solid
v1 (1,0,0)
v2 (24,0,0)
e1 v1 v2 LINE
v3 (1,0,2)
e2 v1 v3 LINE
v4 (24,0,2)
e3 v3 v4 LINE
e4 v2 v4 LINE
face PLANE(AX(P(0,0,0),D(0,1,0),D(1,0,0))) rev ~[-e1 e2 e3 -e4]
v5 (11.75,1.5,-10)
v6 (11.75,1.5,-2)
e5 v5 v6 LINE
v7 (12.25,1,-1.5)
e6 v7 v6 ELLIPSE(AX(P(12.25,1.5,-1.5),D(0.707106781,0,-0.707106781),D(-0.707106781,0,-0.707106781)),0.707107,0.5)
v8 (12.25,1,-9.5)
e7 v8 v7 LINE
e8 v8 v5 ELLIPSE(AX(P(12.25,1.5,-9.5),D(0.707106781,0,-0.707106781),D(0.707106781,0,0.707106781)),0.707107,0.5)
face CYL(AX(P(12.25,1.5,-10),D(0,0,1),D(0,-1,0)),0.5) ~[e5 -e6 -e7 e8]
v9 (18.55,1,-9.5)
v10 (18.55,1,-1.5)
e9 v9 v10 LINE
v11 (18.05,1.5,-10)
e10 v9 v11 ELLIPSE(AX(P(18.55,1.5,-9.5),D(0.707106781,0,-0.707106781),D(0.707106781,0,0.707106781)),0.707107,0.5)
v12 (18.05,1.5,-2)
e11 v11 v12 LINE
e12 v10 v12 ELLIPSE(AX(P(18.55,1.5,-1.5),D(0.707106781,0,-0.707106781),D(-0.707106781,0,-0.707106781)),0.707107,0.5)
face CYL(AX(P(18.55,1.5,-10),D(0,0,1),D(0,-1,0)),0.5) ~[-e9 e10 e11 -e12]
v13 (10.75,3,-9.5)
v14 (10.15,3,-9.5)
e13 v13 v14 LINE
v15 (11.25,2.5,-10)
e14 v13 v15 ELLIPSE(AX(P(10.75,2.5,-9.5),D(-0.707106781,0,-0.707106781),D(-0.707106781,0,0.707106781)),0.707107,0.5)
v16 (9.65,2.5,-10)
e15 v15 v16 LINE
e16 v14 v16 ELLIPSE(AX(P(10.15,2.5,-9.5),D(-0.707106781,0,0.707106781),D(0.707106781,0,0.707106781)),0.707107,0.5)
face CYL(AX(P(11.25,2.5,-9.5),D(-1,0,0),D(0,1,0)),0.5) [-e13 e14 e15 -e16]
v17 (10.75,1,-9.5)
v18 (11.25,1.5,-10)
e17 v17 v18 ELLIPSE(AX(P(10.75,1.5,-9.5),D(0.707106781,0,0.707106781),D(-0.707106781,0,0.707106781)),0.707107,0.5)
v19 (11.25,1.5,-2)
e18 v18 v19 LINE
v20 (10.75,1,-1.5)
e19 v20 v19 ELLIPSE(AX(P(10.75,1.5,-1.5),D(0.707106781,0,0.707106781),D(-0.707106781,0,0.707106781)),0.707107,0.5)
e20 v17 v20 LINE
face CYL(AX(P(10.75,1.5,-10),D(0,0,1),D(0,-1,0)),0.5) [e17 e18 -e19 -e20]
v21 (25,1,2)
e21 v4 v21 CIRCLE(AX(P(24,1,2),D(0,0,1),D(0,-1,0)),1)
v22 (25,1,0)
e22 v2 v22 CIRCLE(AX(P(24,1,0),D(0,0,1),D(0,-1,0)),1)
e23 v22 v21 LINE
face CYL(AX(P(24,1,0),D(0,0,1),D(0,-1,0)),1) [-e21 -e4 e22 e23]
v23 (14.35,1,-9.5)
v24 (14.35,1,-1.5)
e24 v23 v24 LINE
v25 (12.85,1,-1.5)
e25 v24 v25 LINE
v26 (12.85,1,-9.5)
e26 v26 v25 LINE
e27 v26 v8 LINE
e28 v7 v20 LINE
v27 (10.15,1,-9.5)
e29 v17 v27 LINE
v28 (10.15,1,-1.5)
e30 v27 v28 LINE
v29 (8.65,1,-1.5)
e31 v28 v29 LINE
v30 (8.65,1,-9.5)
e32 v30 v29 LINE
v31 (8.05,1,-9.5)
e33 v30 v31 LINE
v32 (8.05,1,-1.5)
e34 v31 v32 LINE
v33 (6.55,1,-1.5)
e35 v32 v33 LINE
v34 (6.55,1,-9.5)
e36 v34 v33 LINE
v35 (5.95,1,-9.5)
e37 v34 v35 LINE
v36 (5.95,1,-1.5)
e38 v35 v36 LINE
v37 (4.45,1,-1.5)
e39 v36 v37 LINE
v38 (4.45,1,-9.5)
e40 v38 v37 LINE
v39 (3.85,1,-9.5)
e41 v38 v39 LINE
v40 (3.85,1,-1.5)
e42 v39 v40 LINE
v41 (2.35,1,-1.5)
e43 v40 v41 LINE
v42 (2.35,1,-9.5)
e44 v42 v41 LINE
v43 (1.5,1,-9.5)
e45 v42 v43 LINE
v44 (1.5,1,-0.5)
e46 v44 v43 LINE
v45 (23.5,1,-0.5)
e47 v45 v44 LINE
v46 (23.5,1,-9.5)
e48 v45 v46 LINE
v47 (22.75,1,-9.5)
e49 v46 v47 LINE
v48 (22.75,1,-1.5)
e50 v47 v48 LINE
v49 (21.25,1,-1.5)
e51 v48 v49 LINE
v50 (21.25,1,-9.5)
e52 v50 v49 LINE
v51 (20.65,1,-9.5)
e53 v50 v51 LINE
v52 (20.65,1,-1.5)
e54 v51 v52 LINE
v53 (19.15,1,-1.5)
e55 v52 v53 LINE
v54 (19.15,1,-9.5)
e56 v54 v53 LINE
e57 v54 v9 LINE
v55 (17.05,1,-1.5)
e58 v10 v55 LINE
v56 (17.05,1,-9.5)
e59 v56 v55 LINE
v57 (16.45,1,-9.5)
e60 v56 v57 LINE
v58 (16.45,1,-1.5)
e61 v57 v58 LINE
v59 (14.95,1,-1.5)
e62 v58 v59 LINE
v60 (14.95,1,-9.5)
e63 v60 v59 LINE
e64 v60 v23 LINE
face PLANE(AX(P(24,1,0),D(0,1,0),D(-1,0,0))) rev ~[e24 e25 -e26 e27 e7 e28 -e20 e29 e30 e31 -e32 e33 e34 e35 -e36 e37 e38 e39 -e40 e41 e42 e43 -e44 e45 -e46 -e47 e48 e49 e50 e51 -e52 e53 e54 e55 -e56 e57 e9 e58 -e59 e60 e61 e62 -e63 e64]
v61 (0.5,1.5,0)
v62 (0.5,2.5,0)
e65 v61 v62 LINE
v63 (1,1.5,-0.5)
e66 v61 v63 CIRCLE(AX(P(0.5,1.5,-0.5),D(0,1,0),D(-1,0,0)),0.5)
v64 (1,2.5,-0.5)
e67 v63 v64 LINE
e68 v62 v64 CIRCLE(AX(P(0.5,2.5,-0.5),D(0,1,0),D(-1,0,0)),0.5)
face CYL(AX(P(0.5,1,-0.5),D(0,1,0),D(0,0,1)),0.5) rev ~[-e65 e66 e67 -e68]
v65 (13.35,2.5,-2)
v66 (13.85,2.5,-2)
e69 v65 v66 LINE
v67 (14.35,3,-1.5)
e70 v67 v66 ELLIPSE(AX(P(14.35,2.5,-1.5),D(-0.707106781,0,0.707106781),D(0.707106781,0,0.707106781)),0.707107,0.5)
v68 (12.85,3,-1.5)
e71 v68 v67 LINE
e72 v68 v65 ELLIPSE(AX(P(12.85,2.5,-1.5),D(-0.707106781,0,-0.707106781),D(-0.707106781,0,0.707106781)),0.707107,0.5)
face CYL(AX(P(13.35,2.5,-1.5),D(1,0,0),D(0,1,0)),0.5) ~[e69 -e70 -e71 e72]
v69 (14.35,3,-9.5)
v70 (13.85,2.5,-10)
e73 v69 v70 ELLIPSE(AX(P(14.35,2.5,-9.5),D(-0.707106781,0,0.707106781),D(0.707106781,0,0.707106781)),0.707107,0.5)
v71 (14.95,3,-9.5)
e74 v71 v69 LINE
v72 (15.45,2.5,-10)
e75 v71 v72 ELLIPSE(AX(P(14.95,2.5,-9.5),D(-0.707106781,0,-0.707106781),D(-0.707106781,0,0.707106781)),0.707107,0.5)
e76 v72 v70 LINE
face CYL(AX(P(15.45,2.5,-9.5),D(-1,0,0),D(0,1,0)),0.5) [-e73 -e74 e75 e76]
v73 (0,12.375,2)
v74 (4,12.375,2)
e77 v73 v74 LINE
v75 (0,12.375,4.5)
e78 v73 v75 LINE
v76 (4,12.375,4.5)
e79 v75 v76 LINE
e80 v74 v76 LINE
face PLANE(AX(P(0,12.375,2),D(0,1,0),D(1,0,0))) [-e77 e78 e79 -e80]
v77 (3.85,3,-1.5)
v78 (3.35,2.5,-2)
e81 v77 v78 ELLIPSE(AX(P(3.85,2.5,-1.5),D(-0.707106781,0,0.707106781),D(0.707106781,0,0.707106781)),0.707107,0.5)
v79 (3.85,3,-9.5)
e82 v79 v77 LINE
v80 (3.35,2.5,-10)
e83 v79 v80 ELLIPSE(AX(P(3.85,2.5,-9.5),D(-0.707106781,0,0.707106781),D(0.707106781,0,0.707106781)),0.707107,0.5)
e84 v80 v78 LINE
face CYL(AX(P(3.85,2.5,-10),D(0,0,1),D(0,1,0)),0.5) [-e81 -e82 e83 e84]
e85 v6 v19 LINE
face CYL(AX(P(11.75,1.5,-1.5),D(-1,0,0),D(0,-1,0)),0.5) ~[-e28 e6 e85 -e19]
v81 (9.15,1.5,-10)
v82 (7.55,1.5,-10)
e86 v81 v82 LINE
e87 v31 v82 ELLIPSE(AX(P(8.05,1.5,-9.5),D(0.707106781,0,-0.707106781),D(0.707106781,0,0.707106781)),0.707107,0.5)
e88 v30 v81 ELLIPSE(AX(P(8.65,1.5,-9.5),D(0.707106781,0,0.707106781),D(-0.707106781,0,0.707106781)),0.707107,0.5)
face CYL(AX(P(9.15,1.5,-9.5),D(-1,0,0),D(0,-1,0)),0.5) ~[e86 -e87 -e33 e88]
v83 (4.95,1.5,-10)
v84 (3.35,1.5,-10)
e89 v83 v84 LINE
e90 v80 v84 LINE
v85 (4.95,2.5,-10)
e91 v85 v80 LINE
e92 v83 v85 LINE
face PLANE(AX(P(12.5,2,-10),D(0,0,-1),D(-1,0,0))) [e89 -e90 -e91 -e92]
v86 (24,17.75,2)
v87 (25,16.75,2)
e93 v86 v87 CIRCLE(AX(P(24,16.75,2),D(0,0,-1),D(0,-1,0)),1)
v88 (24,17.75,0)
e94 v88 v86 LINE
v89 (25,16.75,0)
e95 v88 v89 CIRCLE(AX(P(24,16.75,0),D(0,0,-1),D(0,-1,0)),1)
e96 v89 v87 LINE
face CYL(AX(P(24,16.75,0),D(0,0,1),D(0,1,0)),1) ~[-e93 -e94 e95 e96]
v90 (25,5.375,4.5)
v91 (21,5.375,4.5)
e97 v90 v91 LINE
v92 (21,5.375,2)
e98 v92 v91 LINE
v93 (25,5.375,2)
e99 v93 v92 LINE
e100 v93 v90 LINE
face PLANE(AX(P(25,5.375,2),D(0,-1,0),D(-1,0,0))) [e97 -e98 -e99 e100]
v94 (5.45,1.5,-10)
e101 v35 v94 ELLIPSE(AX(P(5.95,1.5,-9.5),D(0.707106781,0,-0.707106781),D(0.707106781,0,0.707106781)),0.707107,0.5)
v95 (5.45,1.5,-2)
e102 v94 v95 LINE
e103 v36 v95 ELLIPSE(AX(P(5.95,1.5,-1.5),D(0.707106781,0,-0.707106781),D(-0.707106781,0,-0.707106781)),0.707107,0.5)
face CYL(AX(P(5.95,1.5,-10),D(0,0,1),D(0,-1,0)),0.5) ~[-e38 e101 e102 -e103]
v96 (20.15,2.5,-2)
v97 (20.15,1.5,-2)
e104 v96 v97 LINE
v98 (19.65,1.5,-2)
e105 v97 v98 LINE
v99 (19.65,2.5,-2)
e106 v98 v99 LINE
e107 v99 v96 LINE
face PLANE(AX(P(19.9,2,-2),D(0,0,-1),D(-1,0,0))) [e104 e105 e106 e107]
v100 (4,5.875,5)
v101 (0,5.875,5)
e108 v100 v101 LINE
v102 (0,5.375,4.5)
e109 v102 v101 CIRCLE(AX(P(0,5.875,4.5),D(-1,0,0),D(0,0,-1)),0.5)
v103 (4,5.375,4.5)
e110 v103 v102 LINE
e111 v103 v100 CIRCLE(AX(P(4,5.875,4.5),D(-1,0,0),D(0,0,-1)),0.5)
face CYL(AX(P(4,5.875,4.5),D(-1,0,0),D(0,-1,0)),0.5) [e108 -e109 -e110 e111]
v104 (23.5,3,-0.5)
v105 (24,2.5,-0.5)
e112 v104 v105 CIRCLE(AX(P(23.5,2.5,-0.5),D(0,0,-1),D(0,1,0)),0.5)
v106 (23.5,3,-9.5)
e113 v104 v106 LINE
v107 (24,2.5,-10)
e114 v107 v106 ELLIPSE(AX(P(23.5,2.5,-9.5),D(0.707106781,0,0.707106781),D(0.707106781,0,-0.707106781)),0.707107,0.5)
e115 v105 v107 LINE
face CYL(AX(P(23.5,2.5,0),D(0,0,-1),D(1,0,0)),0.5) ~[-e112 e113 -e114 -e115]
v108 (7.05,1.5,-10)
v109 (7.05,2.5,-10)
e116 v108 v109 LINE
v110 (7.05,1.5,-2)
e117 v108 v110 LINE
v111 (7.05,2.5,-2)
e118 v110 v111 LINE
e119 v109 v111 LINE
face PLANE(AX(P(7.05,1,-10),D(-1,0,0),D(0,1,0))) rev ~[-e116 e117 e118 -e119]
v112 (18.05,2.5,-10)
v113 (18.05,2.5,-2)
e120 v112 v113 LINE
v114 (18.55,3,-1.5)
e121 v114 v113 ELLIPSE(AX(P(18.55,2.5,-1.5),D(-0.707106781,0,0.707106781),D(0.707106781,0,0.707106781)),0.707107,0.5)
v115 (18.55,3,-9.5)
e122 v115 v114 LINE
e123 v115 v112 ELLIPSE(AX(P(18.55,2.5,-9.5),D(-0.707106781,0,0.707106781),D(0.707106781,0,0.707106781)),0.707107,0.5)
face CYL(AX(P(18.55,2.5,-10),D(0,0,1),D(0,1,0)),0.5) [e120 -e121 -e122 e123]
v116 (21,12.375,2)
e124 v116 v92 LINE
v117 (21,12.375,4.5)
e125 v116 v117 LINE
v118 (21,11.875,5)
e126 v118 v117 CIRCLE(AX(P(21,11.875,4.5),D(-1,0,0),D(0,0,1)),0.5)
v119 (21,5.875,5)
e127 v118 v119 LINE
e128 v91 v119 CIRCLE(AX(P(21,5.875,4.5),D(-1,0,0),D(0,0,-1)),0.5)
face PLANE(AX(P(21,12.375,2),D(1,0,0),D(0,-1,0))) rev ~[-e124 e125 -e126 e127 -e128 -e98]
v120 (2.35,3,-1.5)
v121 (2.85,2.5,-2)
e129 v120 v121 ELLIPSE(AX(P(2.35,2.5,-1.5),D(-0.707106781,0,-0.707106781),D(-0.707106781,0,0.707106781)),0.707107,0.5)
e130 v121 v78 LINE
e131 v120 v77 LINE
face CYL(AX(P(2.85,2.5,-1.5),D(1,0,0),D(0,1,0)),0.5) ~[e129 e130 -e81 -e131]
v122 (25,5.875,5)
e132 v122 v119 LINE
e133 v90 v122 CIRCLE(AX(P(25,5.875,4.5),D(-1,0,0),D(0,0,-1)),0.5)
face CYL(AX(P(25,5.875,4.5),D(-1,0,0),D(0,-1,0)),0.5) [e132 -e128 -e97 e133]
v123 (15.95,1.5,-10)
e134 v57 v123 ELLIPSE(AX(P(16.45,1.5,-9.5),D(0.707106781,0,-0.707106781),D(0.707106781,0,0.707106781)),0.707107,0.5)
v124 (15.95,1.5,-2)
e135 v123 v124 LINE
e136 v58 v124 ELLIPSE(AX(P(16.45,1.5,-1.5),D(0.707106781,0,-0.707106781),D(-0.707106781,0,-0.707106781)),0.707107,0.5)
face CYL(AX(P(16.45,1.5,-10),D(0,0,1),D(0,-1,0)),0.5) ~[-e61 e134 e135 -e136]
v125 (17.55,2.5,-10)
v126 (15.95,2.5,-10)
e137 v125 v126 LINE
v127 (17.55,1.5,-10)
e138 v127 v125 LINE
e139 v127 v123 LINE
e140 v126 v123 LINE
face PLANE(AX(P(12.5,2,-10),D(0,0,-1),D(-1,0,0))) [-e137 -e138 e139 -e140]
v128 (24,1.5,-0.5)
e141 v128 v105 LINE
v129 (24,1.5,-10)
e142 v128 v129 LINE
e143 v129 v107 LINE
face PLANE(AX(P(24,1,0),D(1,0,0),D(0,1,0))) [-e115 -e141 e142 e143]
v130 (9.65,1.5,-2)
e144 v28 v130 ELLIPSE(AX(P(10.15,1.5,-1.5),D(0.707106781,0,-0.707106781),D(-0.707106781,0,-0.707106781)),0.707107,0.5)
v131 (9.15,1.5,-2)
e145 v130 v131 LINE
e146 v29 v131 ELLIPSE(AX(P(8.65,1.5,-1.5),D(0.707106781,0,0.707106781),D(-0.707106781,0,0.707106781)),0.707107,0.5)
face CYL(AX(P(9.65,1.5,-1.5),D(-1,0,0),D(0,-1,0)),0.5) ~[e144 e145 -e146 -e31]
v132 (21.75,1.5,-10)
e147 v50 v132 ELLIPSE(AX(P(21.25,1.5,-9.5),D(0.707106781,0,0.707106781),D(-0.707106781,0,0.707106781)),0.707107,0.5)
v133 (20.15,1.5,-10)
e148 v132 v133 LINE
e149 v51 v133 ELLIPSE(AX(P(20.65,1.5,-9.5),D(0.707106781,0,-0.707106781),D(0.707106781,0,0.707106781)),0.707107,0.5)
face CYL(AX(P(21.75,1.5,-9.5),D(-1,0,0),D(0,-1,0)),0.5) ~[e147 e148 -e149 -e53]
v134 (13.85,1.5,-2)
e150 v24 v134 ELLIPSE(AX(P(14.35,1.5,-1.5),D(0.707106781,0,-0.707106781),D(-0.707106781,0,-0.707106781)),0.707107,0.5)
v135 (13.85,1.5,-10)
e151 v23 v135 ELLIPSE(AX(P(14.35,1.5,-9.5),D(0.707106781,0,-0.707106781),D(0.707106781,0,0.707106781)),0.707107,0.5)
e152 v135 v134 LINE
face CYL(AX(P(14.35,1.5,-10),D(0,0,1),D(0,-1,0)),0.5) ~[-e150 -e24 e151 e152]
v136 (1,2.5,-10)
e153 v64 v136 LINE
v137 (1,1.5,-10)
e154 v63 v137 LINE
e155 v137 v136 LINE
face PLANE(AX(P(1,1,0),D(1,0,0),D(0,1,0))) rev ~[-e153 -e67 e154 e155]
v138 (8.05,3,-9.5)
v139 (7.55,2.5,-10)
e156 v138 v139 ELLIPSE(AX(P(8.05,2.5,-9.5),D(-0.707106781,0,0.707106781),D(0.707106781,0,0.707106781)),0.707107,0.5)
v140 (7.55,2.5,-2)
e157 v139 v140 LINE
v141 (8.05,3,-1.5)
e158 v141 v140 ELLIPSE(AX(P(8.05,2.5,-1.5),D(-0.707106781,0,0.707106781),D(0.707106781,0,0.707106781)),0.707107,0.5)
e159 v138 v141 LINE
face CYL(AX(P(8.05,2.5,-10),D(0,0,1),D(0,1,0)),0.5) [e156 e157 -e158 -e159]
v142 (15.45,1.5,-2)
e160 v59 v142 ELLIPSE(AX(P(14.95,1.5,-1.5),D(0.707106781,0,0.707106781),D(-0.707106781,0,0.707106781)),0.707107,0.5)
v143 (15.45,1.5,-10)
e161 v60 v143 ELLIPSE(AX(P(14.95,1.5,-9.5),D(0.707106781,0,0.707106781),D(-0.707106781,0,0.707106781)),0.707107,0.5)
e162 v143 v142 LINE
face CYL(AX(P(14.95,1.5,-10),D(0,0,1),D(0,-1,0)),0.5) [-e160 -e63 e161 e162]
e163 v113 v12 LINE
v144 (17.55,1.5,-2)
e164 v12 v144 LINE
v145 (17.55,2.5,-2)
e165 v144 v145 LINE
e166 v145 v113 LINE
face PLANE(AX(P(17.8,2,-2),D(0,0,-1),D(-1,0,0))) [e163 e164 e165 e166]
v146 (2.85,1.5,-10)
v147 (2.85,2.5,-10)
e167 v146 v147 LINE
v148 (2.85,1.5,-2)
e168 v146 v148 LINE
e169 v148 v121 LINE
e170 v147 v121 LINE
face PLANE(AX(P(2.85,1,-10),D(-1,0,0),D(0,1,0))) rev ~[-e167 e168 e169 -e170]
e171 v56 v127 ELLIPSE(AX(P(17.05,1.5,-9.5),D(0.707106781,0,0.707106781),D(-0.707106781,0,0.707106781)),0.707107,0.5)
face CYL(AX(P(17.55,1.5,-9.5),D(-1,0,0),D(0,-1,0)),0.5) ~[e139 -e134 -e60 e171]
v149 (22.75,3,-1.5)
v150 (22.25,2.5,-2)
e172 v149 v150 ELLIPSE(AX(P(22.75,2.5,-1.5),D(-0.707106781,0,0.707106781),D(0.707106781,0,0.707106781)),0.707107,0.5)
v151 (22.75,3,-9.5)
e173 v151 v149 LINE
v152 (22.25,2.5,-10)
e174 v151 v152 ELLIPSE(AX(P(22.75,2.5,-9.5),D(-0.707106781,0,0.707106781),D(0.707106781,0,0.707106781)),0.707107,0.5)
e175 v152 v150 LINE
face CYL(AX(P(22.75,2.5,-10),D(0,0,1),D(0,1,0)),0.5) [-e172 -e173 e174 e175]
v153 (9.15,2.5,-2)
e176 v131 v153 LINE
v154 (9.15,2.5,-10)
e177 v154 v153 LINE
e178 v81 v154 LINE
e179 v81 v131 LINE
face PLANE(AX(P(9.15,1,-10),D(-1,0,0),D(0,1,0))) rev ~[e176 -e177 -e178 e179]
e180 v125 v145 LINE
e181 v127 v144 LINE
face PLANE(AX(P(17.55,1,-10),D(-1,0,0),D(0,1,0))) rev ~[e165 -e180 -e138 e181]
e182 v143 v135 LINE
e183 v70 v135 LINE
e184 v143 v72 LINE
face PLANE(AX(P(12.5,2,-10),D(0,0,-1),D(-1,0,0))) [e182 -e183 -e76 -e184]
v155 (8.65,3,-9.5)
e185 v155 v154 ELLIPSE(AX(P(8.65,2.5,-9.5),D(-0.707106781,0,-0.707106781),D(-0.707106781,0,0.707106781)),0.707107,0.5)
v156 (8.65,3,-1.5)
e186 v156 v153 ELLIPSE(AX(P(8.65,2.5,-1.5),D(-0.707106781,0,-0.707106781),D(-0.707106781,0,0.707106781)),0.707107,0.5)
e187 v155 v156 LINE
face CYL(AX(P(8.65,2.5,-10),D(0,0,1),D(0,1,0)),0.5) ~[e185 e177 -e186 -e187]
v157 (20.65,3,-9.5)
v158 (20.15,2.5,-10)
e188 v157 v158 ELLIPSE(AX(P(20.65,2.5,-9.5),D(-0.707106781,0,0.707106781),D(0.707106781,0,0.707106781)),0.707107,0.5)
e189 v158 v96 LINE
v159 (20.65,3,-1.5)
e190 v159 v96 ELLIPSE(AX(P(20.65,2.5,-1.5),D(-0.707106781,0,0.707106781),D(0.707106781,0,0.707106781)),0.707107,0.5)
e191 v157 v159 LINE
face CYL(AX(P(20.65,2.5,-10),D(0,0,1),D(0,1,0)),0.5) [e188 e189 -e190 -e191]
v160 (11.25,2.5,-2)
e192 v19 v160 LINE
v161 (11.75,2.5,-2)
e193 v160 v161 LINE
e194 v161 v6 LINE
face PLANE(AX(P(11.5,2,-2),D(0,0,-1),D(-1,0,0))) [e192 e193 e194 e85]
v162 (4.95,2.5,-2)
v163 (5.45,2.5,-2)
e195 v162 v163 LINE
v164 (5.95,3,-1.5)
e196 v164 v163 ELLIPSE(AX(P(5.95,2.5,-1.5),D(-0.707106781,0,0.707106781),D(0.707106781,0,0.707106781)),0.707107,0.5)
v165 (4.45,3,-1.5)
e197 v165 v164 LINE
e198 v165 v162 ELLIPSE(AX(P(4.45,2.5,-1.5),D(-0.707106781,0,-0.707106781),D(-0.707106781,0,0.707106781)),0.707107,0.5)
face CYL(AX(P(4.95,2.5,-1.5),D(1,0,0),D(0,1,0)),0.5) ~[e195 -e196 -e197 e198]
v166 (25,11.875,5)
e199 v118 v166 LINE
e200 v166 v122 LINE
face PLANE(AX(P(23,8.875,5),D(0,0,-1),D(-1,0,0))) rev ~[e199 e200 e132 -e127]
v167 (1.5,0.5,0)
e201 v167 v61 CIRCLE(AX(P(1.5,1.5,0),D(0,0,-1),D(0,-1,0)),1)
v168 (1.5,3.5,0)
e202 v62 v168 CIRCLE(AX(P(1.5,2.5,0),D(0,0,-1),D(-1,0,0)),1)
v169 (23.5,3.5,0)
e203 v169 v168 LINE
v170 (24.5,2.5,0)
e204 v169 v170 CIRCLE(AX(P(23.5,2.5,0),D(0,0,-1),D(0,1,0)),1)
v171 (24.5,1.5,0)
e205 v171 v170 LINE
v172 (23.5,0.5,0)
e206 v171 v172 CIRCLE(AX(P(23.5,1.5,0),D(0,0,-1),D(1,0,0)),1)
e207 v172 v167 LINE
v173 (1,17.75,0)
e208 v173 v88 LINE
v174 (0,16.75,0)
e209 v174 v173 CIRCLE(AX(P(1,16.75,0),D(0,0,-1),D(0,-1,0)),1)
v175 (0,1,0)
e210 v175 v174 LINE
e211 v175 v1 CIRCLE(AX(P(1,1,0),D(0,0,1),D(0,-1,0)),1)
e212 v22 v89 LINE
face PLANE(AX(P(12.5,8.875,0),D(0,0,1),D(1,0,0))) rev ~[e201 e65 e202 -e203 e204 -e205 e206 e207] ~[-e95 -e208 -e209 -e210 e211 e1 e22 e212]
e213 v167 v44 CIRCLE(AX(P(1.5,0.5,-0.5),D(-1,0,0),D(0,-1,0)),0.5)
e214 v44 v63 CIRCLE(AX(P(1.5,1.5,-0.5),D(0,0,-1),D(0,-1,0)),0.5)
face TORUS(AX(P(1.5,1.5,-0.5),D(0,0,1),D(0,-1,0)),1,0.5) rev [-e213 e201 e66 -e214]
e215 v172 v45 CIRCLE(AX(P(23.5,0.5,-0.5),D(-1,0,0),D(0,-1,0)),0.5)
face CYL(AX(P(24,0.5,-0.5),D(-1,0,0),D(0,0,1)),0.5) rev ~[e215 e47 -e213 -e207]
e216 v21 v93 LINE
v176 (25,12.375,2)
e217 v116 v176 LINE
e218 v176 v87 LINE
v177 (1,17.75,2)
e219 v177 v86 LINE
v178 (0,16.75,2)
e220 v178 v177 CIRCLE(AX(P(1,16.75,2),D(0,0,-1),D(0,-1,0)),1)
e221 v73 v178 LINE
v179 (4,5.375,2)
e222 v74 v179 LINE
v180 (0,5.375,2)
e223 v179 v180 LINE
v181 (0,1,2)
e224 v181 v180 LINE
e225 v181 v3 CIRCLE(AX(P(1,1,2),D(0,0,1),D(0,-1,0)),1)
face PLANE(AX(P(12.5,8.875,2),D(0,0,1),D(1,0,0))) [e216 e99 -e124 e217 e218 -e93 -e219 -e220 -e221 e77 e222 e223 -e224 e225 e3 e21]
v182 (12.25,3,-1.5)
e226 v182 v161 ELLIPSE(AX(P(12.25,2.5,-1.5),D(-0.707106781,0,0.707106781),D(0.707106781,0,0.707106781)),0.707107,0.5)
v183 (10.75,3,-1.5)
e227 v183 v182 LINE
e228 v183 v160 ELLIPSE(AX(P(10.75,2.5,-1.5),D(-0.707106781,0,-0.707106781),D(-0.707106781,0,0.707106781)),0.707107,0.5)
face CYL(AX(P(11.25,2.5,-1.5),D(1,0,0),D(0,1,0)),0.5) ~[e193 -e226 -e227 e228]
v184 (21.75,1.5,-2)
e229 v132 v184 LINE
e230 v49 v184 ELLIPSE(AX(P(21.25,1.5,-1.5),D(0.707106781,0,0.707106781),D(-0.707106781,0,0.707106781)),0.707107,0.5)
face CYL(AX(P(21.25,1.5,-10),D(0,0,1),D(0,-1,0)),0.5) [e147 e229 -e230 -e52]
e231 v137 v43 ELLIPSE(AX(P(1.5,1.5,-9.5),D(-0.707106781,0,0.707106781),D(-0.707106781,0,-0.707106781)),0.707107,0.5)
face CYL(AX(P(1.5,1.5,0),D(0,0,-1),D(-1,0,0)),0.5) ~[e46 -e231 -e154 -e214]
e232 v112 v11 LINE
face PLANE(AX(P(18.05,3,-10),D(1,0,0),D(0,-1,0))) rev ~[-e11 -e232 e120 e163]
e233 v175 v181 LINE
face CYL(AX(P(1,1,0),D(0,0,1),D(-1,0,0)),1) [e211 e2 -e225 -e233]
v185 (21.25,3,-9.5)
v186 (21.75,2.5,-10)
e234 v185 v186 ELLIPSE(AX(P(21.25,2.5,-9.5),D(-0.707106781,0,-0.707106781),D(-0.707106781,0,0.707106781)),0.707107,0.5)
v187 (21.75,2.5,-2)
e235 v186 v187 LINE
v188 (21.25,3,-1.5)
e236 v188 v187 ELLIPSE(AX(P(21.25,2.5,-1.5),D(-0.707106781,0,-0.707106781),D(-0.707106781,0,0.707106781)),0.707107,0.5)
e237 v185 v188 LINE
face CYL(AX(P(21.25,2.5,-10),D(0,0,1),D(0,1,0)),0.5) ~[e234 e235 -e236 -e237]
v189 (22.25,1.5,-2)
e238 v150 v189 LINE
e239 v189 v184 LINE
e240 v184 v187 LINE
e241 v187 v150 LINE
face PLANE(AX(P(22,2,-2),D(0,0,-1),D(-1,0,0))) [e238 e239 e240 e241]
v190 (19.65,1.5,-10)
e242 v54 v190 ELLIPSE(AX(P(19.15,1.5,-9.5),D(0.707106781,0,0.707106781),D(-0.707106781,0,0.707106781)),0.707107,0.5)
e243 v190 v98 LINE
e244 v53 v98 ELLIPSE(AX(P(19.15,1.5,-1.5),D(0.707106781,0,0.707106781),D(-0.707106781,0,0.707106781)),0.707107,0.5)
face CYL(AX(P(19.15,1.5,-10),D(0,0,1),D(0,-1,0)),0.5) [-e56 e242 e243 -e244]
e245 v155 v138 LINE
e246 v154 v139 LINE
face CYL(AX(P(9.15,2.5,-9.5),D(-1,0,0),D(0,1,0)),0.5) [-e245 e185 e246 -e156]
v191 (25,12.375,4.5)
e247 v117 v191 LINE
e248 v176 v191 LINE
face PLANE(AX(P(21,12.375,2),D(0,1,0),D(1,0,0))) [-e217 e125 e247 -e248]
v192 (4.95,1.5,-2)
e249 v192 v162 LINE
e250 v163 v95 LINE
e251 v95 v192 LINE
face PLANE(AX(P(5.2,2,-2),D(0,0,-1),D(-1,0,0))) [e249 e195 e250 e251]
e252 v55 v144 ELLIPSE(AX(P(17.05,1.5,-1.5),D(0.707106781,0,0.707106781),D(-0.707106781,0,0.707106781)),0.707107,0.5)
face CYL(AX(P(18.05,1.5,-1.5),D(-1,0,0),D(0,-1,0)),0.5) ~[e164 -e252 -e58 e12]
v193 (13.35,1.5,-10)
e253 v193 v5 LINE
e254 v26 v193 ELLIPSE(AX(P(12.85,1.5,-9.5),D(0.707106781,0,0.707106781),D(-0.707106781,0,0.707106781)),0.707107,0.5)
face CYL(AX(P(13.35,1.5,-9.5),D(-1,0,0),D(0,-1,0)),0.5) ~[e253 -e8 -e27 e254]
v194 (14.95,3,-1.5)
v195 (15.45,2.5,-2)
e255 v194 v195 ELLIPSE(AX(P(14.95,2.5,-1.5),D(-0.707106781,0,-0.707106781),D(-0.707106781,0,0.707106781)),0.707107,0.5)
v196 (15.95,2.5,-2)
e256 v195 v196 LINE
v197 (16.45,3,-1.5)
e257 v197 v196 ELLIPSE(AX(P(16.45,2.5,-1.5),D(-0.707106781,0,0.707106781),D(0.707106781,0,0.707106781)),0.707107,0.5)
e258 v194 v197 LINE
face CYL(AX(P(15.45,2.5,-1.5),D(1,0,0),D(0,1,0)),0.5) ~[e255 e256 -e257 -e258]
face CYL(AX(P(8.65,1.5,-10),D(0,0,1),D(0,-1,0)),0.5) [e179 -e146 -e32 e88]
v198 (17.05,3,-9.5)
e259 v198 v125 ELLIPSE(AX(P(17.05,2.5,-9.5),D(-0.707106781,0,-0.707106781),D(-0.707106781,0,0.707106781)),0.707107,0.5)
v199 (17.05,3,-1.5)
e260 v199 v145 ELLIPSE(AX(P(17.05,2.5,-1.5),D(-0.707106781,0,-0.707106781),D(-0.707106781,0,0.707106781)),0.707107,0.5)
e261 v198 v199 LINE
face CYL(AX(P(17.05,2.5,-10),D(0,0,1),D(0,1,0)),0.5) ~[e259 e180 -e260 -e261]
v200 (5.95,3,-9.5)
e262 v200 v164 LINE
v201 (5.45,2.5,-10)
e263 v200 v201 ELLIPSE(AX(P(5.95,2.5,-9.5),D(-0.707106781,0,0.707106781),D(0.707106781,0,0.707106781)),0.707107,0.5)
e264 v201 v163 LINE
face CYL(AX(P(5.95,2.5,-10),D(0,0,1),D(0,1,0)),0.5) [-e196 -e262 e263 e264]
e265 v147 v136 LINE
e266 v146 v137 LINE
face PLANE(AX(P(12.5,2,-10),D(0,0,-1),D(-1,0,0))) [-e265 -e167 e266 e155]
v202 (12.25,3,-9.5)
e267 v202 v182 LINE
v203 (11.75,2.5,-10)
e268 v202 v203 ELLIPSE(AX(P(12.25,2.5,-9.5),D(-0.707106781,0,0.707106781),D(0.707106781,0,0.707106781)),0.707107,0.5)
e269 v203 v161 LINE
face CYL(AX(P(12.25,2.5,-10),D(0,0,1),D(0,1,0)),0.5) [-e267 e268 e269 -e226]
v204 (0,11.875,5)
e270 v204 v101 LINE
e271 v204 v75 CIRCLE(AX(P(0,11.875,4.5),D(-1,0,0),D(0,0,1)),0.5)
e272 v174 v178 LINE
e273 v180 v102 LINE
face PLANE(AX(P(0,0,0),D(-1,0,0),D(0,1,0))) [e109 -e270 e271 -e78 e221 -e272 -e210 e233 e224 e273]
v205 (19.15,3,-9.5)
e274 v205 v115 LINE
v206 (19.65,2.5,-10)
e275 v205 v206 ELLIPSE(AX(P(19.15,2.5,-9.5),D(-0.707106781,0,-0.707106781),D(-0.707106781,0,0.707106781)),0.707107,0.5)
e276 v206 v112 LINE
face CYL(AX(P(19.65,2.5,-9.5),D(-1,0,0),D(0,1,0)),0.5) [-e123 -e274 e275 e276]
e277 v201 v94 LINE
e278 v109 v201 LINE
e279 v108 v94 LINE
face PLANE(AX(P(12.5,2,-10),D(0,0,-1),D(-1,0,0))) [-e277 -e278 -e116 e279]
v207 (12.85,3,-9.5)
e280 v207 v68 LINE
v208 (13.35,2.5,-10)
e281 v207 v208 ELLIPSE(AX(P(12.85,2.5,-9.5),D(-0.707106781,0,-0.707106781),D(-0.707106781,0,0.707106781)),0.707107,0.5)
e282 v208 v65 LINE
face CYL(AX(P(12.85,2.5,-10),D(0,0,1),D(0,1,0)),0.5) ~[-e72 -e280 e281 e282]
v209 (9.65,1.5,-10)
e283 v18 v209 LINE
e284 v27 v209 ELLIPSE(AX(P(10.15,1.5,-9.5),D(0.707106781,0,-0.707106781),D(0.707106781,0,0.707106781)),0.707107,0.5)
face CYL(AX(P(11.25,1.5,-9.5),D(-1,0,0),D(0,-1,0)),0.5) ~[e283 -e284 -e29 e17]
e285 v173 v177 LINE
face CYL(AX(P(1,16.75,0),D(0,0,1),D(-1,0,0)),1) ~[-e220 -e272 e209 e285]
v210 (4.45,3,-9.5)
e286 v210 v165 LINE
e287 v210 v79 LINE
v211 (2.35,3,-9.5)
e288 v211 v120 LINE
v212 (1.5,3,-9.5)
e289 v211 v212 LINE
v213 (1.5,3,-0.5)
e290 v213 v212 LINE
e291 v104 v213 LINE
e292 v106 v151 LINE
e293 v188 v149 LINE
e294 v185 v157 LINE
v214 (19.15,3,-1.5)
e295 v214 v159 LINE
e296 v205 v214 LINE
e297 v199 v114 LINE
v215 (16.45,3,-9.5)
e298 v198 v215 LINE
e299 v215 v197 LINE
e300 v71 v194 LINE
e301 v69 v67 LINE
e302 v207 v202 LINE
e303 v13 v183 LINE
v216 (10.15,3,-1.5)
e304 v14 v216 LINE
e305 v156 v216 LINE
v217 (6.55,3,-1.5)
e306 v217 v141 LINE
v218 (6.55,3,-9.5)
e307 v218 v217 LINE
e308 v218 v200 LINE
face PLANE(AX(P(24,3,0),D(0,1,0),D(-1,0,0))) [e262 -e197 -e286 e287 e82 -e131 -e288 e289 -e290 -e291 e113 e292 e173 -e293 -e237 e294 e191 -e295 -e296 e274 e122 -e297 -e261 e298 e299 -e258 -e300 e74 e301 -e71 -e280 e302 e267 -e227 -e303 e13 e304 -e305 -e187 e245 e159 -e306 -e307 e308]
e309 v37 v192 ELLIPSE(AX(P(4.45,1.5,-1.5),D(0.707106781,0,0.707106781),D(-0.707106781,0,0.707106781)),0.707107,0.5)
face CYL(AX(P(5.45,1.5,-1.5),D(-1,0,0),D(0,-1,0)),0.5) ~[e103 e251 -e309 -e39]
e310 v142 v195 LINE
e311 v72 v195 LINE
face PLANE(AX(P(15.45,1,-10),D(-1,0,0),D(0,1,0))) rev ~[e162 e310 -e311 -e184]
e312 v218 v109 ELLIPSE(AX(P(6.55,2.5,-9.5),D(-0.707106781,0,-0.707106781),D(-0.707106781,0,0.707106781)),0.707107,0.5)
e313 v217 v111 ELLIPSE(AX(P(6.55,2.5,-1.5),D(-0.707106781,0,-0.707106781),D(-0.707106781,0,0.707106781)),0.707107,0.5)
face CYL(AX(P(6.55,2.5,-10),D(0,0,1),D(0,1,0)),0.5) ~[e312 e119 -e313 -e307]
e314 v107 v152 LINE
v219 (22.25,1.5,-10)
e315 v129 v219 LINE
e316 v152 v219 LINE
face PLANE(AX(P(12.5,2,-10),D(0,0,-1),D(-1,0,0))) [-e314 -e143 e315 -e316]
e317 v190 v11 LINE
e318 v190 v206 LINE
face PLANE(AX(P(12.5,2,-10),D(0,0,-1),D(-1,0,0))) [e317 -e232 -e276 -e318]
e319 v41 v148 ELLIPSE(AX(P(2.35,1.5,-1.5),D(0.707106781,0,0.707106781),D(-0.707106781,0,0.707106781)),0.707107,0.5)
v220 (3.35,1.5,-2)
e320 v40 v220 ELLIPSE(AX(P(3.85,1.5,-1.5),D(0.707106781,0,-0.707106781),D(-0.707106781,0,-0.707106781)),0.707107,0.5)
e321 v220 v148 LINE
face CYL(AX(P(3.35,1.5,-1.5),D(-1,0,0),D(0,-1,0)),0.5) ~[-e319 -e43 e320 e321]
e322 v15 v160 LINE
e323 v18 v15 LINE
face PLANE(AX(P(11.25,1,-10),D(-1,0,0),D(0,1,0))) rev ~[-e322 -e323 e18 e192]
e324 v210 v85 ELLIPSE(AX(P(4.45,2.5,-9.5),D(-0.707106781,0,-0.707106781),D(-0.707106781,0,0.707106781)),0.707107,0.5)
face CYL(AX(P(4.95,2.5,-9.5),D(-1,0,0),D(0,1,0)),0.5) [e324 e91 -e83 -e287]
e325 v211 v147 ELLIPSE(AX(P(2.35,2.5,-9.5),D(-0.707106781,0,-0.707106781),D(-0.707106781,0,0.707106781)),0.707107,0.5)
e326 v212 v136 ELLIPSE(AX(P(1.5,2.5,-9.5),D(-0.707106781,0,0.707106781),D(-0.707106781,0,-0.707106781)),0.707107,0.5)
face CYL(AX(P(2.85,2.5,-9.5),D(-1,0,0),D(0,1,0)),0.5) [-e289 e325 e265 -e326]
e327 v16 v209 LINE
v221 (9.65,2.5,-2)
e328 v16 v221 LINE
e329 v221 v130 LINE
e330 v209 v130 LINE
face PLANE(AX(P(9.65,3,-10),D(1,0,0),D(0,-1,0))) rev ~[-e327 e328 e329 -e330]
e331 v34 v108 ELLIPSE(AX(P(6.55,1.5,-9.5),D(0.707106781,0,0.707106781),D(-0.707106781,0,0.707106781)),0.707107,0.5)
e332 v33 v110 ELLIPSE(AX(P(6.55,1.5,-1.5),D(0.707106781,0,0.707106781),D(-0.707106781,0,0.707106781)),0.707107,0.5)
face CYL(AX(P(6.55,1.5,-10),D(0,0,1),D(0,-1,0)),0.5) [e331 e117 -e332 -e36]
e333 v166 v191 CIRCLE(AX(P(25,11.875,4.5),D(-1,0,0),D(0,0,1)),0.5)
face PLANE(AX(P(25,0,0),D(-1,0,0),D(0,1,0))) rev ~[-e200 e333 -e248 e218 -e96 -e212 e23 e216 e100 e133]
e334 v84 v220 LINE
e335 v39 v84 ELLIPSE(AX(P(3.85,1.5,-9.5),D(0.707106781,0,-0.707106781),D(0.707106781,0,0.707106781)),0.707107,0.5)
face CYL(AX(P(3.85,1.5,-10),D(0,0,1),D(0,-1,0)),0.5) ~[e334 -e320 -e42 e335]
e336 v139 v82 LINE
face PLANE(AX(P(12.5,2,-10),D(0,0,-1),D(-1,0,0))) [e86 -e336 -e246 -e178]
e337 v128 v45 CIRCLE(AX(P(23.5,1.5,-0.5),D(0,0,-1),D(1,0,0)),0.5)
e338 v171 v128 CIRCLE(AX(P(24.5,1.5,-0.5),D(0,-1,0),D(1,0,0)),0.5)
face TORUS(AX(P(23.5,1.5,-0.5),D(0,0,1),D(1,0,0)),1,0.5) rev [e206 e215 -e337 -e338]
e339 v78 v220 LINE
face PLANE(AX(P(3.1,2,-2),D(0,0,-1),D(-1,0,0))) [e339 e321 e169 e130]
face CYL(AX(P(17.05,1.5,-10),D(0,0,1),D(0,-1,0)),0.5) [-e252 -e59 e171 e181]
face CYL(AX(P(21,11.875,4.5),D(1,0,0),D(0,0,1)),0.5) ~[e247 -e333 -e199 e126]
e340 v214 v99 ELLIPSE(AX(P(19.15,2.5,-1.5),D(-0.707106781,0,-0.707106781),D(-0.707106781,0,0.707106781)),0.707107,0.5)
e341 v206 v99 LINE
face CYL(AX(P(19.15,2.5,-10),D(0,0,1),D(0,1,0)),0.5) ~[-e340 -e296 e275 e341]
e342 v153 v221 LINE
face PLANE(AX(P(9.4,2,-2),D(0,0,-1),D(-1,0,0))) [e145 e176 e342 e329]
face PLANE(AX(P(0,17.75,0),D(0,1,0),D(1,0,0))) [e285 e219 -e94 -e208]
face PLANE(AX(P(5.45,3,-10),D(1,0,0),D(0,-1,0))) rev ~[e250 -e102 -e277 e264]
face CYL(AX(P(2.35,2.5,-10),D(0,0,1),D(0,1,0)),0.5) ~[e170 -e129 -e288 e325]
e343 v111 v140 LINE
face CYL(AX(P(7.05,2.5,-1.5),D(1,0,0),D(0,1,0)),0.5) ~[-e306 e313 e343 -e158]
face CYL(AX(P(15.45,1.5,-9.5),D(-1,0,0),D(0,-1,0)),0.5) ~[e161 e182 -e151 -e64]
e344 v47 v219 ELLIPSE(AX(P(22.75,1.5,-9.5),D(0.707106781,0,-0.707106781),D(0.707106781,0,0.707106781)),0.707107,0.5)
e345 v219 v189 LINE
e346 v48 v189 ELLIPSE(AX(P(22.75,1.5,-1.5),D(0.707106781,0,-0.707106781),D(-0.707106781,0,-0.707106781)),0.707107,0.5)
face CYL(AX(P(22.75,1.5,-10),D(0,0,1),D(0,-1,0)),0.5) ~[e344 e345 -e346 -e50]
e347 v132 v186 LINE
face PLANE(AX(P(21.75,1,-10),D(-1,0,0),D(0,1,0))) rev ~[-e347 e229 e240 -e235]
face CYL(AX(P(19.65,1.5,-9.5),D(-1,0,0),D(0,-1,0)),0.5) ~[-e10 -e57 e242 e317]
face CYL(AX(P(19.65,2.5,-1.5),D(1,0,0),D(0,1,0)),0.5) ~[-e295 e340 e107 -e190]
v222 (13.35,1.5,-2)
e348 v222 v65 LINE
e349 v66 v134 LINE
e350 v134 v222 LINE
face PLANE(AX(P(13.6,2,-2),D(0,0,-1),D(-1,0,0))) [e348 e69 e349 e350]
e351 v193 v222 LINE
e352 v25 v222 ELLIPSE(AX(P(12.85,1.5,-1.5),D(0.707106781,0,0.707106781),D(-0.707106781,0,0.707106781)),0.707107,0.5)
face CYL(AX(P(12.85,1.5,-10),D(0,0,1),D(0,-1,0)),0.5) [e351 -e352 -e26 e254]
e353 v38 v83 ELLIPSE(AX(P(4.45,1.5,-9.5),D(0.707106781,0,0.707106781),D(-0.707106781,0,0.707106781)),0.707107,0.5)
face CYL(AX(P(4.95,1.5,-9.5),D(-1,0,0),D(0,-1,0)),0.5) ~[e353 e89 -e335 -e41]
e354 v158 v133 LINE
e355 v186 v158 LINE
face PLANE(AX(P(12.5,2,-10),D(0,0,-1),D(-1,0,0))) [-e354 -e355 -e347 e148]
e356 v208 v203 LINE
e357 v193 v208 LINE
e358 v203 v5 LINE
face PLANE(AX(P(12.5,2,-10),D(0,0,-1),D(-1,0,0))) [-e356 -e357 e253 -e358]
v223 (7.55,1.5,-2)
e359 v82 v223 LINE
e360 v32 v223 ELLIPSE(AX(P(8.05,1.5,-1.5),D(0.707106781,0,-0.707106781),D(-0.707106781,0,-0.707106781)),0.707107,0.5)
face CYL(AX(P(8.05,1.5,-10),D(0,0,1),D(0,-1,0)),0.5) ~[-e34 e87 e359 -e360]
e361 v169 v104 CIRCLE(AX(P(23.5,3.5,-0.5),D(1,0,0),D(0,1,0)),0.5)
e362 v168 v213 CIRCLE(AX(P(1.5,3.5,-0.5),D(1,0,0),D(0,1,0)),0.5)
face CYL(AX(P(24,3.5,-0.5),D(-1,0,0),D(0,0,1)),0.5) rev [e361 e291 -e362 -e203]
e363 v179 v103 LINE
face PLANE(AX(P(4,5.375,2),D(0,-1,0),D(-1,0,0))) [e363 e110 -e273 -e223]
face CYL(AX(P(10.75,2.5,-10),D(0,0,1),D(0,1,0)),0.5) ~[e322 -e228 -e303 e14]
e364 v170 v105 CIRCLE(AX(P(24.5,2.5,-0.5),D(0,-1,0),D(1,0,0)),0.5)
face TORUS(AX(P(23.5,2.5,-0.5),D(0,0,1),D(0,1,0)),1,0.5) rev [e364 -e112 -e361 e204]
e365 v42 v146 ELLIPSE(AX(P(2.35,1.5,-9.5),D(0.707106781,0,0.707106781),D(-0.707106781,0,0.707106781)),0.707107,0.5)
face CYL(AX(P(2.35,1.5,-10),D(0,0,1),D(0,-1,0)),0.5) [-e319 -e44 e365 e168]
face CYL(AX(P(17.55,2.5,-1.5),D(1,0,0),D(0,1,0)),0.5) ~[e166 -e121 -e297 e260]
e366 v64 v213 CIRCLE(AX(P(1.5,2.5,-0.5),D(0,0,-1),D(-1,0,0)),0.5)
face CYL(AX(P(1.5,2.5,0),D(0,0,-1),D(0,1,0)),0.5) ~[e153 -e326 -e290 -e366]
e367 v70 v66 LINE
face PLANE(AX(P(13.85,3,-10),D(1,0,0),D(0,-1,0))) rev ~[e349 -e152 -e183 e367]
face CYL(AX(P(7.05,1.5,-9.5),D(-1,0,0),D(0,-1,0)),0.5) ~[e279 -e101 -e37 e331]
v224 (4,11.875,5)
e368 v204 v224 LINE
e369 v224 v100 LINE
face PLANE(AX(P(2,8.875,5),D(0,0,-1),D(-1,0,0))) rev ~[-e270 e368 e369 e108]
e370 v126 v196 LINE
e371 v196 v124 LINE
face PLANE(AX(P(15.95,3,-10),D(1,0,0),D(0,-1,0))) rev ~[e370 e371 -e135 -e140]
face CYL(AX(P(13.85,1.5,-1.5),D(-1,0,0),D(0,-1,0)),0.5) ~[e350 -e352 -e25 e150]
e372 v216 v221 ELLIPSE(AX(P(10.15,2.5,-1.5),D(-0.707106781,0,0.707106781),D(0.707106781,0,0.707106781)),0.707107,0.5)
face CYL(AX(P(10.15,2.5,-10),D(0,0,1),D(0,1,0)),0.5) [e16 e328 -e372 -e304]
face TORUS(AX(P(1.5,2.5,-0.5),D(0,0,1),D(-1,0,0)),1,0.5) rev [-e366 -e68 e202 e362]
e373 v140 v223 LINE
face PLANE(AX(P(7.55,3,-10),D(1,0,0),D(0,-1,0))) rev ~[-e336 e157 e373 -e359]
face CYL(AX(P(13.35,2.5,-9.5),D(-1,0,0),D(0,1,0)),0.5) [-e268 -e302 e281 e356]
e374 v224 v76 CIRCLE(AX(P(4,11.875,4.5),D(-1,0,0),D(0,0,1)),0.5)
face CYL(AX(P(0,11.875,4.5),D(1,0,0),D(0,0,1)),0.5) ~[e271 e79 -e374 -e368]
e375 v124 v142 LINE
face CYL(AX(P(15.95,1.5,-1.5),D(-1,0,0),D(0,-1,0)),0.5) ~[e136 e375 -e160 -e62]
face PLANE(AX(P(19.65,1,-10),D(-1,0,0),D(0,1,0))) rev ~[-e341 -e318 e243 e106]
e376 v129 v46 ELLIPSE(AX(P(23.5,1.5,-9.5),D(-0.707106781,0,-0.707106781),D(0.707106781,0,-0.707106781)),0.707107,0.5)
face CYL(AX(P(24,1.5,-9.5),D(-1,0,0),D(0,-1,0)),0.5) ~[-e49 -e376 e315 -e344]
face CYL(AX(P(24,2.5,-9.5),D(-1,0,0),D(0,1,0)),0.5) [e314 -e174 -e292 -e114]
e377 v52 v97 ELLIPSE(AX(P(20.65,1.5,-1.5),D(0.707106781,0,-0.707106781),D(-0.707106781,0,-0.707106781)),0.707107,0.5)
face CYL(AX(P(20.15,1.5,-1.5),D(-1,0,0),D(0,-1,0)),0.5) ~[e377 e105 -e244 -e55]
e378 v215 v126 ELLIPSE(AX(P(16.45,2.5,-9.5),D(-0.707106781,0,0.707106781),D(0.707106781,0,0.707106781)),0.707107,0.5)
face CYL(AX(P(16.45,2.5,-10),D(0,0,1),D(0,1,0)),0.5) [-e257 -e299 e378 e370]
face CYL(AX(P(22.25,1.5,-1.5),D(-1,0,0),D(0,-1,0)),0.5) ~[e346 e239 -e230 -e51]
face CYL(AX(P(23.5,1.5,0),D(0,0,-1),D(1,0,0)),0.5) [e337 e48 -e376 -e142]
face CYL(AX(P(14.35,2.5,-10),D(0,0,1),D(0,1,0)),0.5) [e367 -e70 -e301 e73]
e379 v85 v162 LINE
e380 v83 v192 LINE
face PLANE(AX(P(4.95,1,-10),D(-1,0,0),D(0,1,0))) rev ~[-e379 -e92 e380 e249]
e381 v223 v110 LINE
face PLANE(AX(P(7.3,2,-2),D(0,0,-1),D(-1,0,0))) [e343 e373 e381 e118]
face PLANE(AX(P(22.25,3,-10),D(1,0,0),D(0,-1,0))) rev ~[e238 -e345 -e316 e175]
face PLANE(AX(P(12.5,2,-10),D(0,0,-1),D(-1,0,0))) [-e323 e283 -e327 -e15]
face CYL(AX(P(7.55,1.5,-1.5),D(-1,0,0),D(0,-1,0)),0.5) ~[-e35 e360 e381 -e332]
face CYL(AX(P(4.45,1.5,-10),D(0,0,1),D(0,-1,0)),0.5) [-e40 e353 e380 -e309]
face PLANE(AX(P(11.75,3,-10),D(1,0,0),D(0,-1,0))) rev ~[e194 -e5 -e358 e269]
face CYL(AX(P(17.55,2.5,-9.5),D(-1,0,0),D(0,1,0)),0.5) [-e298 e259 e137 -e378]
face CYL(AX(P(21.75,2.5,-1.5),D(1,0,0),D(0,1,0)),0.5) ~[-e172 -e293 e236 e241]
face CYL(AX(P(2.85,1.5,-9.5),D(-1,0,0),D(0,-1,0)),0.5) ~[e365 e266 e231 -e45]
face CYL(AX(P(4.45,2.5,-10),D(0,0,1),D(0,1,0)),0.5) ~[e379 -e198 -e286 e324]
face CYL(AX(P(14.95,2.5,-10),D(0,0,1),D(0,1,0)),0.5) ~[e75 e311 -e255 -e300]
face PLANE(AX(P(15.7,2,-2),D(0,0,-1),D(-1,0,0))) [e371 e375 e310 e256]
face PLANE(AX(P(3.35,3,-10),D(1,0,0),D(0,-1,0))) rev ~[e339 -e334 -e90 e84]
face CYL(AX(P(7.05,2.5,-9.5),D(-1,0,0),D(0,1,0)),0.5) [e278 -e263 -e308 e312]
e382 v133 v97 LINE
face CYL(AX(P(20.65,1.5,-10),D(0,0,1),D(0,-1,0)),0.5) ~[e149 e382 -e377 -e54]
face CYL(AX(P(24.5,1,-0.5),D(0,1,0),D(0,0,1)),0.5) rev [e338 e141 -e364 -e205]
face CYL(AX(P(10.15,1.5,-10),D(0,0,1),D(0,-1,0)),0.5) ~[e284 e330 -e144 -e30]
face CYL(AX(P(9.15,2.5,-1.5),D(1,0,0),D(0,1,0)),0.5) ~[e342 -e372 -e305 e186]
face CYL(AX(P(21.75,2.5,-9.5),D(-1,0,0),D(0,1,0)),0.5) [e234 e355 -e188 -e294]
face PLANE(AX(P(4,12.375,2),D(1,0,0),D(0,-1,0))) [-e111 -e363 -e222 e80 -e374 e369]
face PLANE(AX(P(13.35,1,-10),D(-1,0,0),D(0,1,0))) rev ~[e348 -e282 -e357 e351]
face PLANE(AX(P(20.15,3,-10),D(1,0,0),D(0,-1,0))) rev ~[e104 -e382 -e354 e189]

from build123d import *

# Parameters (mm, degrees)
SKETCH1_W           = 25
SKETCH1_H           = 17.75
BOSS_EXTRUDE1_DEPTH = 2
BOSS_EXTRUDE2_DEPTH = 3
SKETCH3_W           = 23
SKETCH3_H           = 2
BOSS_EXTRUDE3_DEPTH = 10
CUT_EXTRUDE1_DEPTH  = 8
FILLET1_R           = 1
FILLET2_R           = 0.5
FILLET3_R           = 0.5


with BuildPart() as part:
    # Sketch1 → Boss-Extrude1 (new body)
    with BuildSketch(Plane.XY):
        with Locations((12.5, 8.875)):
            Rectangle(SKETCH1_W, SKETCH1_H)
    extrude(amount=BOSS_EXTRUDE1_DEPTH)

    # Sketch2 → Boss-Extrude2 (add)
    with BuildSketch(Plane.XY.offset(2)):
        Polygon((0, 8.875), (0, 12.375), (4, 12.375), (4, 5.375), (0, 5.375), align=None)
        Polygon((21, 8.875), (21, 12.375), (25, 12.375), (25, 5.375), (21, 5.375), align=None)
    extrude(amount=BOSS_EXTRUDE2_DEPTH)

    # Sketch3 → Boss-Extrude3 (add)
    with BuildSketch(Plane(origin=(0, 0, 0), x_dir=(-1, 0, 0), z_dir=(0, 0, -1))):
        with Locations((-12.5, 2)):
            Rectangle(SKETCH3_W, SKETCH3_H)
    extrude(amount=BOSS_EXTRUDE3_DEPTH)

    # Sketch4 → Cut-Extrude1 (cut)
    with BuildSketch(Plane(origin=(0, 0, -10), x_dir=(-1, 0, 0), z_dir=(0, 0, -1))):
        Polygon((-19.9, 3), (-20.15, 3), (-20.15, 1), (-19.65, 1), (-19.65, 3), align=None)
        Polygon((-22, 3), (-22.25, 3), (-22.25, 1), (-21.75, 1), (-21.75, 3), align=None)
        Polygon((-17.8, 3), (-18.05, 3), (-18.05, 1), (-17.55, 1), (-17.55, 3), align=None)
        Polygon((-15.7, 3), (-15.95, 3), (-15.95, 1), (-15.45, 1), (-15.45, 3), align=None)
        Polygon((-13.6, 3), (-13.85, 3), (-13.85, 1), (-13.35, 1), (-13.35, 3), align=None)
        Polygon((-11.5, 3), (-11.75, 3), (-11.75, 1), (-11.25, 1), (-11.25, 3), align=None)
        Polygon((-9.4, 3), (-9.65, 3), (-9.65, 1), (-9.15, 1), (-9.15, 3), align=None)
        Polygon((-7.3, 3), (-7.55, 3), (-7.55, 1), (-7.05, 1), (-7.05, 3), align=None)
        Polygon((-5.2, 3), (-5.45, 3), (-5.45, 1), (-4.95, 1), (-4.95, 3), align=None)
        Polygon((-3.1, 3), (-3.35, 3), (-3.35, 1), (-2.85, 1), (-2.85, 3), align=None)
    extrude(amount=-CUT_EXTRUDE1_DEPTH, mode=Mode.SUBTRACT)

    # Fillet1
    fillet1_edges = [part.edges().sort_by_distance(p)[0] for p in [
        (0, 0, 1),
        (0, 17.75, 1),
        (25, 17.75, 1),
        (25, 0, 1),
    ]]
    fillet(fillet1_edges, radius=FILLET1_R)

    # Fillet2
    fillet2_edges = [part.edges().sort_by_distance(p)[0] for p in [
        (21.75, 3, -6),
        (22, 1, -2),
        (21.75, 1, -6),
        (22.25, 1, -6),
        (22, 3, -2),
        (22.25, 3, -6),
        (19.65, 3, -6),
        (19.9, 1, -2),
        (19.65, 1, -6),
        (20.15, 1, -6),
        (19.9, 3, -2),
        (20.15, 3, -6),
        (17.55, 3, -6),
        (17.8, 1, -2),
        (17.55, 1, -6),
        (18.05, 1, -6),
        (17.8, 3, -2),
        (18.05, 3, -6),
        (15.45, 3, -6),
        (15.7, 1, -2),
        (15.45, 1, -6),
        (15.95, 1, -6),
        (15.7, 3, -2),
        (15.95, 3, -6),
        (13.35, 3, -6),
        (13.6, 1, -2),
        (13.35, 1, -6),
        (13.85, 1, -6),
        (13.6, 3, -2),
        (13.85, 3, -6),
        (11.25, 3, -6),
        (11.5, 1, -2),
        (11.25, 1, -6),
        (11.75, 1, -6),
        (11.5, 3, -2),
        (11.75, 3, -6),
        (9.15, 3, -6),
        (9.4, 1, -2),
        (9.15, 1, -6),
        (9.65, 1, -6),
        (9.4, 3, -2),
        (9.65, 3, -6),
        (7.05, 3, -6),
        (7.3, 1, -2),
        (7.05, 1, -6),
        (7.55, 1, -6),
        (7.3, 3, -2),
        (7.55, 3, -6),
        (4.95, 3, -6),
        (5.2, 1, -2),
        (4.95, 1, -6),
        (5.45, 1, -6),
        (5.2, 3, -2),
        (5.45, 3, -6),
        (2.85, 3, -6),
        (3.1, 1, -2),
        (2.85, 1, -6),
        (3.35, 1, -6),
        (3.1, 3, -2),
        (3.35, 3, -6),
        (12.5, 1, 0),
        (24, 1, -5),
        (1, 2, 0),
        (1, 1, -5),
        (12.5, 3, 0),
        (1, 3, -5),
        (24, 2, 0),
        (24, 3, -5),
        (23.125, 1, -10),
        (1.925, 3, -10),
        (20.95, 1, -10),
        (18.85, 1, -10),
        (16.75, 1, -10),
        (14.65, 1, -10),
        (12.55, 1, -10),
        (10.45, 1, -10),
        (8.35, 1, -10),
        (6.25, 1, -10),
        (4.15, 1, -10),
        (1.925, 1, -10),
        (4.15, 3, -10),
        (6.25, 3, -10),
        (8.35, 3, -10),
        (10.45, 3, -10),
        (12.55, 3, -10),
        (14.65, 3, -10),
        (16.75, 3, -10),
        (18.85, 3, -10),
        (20.95, 3, -10),
        (23.125, 3, -10),
    ]]
    fillet(fillet2_edges, radius=FILLET2_R)

    # Fillet3
    fillet3_edges = [part.edges().sort_by_distance(p)[0] for p in [
        (2, 5.375, 5),
        (2, 12.375, 5),
        (23, 5.375, 5),
        (23, 12.375, 5),
    ]]
    fillet(fillet3_edges, radius=FILLET3_R)


solid = part.part
